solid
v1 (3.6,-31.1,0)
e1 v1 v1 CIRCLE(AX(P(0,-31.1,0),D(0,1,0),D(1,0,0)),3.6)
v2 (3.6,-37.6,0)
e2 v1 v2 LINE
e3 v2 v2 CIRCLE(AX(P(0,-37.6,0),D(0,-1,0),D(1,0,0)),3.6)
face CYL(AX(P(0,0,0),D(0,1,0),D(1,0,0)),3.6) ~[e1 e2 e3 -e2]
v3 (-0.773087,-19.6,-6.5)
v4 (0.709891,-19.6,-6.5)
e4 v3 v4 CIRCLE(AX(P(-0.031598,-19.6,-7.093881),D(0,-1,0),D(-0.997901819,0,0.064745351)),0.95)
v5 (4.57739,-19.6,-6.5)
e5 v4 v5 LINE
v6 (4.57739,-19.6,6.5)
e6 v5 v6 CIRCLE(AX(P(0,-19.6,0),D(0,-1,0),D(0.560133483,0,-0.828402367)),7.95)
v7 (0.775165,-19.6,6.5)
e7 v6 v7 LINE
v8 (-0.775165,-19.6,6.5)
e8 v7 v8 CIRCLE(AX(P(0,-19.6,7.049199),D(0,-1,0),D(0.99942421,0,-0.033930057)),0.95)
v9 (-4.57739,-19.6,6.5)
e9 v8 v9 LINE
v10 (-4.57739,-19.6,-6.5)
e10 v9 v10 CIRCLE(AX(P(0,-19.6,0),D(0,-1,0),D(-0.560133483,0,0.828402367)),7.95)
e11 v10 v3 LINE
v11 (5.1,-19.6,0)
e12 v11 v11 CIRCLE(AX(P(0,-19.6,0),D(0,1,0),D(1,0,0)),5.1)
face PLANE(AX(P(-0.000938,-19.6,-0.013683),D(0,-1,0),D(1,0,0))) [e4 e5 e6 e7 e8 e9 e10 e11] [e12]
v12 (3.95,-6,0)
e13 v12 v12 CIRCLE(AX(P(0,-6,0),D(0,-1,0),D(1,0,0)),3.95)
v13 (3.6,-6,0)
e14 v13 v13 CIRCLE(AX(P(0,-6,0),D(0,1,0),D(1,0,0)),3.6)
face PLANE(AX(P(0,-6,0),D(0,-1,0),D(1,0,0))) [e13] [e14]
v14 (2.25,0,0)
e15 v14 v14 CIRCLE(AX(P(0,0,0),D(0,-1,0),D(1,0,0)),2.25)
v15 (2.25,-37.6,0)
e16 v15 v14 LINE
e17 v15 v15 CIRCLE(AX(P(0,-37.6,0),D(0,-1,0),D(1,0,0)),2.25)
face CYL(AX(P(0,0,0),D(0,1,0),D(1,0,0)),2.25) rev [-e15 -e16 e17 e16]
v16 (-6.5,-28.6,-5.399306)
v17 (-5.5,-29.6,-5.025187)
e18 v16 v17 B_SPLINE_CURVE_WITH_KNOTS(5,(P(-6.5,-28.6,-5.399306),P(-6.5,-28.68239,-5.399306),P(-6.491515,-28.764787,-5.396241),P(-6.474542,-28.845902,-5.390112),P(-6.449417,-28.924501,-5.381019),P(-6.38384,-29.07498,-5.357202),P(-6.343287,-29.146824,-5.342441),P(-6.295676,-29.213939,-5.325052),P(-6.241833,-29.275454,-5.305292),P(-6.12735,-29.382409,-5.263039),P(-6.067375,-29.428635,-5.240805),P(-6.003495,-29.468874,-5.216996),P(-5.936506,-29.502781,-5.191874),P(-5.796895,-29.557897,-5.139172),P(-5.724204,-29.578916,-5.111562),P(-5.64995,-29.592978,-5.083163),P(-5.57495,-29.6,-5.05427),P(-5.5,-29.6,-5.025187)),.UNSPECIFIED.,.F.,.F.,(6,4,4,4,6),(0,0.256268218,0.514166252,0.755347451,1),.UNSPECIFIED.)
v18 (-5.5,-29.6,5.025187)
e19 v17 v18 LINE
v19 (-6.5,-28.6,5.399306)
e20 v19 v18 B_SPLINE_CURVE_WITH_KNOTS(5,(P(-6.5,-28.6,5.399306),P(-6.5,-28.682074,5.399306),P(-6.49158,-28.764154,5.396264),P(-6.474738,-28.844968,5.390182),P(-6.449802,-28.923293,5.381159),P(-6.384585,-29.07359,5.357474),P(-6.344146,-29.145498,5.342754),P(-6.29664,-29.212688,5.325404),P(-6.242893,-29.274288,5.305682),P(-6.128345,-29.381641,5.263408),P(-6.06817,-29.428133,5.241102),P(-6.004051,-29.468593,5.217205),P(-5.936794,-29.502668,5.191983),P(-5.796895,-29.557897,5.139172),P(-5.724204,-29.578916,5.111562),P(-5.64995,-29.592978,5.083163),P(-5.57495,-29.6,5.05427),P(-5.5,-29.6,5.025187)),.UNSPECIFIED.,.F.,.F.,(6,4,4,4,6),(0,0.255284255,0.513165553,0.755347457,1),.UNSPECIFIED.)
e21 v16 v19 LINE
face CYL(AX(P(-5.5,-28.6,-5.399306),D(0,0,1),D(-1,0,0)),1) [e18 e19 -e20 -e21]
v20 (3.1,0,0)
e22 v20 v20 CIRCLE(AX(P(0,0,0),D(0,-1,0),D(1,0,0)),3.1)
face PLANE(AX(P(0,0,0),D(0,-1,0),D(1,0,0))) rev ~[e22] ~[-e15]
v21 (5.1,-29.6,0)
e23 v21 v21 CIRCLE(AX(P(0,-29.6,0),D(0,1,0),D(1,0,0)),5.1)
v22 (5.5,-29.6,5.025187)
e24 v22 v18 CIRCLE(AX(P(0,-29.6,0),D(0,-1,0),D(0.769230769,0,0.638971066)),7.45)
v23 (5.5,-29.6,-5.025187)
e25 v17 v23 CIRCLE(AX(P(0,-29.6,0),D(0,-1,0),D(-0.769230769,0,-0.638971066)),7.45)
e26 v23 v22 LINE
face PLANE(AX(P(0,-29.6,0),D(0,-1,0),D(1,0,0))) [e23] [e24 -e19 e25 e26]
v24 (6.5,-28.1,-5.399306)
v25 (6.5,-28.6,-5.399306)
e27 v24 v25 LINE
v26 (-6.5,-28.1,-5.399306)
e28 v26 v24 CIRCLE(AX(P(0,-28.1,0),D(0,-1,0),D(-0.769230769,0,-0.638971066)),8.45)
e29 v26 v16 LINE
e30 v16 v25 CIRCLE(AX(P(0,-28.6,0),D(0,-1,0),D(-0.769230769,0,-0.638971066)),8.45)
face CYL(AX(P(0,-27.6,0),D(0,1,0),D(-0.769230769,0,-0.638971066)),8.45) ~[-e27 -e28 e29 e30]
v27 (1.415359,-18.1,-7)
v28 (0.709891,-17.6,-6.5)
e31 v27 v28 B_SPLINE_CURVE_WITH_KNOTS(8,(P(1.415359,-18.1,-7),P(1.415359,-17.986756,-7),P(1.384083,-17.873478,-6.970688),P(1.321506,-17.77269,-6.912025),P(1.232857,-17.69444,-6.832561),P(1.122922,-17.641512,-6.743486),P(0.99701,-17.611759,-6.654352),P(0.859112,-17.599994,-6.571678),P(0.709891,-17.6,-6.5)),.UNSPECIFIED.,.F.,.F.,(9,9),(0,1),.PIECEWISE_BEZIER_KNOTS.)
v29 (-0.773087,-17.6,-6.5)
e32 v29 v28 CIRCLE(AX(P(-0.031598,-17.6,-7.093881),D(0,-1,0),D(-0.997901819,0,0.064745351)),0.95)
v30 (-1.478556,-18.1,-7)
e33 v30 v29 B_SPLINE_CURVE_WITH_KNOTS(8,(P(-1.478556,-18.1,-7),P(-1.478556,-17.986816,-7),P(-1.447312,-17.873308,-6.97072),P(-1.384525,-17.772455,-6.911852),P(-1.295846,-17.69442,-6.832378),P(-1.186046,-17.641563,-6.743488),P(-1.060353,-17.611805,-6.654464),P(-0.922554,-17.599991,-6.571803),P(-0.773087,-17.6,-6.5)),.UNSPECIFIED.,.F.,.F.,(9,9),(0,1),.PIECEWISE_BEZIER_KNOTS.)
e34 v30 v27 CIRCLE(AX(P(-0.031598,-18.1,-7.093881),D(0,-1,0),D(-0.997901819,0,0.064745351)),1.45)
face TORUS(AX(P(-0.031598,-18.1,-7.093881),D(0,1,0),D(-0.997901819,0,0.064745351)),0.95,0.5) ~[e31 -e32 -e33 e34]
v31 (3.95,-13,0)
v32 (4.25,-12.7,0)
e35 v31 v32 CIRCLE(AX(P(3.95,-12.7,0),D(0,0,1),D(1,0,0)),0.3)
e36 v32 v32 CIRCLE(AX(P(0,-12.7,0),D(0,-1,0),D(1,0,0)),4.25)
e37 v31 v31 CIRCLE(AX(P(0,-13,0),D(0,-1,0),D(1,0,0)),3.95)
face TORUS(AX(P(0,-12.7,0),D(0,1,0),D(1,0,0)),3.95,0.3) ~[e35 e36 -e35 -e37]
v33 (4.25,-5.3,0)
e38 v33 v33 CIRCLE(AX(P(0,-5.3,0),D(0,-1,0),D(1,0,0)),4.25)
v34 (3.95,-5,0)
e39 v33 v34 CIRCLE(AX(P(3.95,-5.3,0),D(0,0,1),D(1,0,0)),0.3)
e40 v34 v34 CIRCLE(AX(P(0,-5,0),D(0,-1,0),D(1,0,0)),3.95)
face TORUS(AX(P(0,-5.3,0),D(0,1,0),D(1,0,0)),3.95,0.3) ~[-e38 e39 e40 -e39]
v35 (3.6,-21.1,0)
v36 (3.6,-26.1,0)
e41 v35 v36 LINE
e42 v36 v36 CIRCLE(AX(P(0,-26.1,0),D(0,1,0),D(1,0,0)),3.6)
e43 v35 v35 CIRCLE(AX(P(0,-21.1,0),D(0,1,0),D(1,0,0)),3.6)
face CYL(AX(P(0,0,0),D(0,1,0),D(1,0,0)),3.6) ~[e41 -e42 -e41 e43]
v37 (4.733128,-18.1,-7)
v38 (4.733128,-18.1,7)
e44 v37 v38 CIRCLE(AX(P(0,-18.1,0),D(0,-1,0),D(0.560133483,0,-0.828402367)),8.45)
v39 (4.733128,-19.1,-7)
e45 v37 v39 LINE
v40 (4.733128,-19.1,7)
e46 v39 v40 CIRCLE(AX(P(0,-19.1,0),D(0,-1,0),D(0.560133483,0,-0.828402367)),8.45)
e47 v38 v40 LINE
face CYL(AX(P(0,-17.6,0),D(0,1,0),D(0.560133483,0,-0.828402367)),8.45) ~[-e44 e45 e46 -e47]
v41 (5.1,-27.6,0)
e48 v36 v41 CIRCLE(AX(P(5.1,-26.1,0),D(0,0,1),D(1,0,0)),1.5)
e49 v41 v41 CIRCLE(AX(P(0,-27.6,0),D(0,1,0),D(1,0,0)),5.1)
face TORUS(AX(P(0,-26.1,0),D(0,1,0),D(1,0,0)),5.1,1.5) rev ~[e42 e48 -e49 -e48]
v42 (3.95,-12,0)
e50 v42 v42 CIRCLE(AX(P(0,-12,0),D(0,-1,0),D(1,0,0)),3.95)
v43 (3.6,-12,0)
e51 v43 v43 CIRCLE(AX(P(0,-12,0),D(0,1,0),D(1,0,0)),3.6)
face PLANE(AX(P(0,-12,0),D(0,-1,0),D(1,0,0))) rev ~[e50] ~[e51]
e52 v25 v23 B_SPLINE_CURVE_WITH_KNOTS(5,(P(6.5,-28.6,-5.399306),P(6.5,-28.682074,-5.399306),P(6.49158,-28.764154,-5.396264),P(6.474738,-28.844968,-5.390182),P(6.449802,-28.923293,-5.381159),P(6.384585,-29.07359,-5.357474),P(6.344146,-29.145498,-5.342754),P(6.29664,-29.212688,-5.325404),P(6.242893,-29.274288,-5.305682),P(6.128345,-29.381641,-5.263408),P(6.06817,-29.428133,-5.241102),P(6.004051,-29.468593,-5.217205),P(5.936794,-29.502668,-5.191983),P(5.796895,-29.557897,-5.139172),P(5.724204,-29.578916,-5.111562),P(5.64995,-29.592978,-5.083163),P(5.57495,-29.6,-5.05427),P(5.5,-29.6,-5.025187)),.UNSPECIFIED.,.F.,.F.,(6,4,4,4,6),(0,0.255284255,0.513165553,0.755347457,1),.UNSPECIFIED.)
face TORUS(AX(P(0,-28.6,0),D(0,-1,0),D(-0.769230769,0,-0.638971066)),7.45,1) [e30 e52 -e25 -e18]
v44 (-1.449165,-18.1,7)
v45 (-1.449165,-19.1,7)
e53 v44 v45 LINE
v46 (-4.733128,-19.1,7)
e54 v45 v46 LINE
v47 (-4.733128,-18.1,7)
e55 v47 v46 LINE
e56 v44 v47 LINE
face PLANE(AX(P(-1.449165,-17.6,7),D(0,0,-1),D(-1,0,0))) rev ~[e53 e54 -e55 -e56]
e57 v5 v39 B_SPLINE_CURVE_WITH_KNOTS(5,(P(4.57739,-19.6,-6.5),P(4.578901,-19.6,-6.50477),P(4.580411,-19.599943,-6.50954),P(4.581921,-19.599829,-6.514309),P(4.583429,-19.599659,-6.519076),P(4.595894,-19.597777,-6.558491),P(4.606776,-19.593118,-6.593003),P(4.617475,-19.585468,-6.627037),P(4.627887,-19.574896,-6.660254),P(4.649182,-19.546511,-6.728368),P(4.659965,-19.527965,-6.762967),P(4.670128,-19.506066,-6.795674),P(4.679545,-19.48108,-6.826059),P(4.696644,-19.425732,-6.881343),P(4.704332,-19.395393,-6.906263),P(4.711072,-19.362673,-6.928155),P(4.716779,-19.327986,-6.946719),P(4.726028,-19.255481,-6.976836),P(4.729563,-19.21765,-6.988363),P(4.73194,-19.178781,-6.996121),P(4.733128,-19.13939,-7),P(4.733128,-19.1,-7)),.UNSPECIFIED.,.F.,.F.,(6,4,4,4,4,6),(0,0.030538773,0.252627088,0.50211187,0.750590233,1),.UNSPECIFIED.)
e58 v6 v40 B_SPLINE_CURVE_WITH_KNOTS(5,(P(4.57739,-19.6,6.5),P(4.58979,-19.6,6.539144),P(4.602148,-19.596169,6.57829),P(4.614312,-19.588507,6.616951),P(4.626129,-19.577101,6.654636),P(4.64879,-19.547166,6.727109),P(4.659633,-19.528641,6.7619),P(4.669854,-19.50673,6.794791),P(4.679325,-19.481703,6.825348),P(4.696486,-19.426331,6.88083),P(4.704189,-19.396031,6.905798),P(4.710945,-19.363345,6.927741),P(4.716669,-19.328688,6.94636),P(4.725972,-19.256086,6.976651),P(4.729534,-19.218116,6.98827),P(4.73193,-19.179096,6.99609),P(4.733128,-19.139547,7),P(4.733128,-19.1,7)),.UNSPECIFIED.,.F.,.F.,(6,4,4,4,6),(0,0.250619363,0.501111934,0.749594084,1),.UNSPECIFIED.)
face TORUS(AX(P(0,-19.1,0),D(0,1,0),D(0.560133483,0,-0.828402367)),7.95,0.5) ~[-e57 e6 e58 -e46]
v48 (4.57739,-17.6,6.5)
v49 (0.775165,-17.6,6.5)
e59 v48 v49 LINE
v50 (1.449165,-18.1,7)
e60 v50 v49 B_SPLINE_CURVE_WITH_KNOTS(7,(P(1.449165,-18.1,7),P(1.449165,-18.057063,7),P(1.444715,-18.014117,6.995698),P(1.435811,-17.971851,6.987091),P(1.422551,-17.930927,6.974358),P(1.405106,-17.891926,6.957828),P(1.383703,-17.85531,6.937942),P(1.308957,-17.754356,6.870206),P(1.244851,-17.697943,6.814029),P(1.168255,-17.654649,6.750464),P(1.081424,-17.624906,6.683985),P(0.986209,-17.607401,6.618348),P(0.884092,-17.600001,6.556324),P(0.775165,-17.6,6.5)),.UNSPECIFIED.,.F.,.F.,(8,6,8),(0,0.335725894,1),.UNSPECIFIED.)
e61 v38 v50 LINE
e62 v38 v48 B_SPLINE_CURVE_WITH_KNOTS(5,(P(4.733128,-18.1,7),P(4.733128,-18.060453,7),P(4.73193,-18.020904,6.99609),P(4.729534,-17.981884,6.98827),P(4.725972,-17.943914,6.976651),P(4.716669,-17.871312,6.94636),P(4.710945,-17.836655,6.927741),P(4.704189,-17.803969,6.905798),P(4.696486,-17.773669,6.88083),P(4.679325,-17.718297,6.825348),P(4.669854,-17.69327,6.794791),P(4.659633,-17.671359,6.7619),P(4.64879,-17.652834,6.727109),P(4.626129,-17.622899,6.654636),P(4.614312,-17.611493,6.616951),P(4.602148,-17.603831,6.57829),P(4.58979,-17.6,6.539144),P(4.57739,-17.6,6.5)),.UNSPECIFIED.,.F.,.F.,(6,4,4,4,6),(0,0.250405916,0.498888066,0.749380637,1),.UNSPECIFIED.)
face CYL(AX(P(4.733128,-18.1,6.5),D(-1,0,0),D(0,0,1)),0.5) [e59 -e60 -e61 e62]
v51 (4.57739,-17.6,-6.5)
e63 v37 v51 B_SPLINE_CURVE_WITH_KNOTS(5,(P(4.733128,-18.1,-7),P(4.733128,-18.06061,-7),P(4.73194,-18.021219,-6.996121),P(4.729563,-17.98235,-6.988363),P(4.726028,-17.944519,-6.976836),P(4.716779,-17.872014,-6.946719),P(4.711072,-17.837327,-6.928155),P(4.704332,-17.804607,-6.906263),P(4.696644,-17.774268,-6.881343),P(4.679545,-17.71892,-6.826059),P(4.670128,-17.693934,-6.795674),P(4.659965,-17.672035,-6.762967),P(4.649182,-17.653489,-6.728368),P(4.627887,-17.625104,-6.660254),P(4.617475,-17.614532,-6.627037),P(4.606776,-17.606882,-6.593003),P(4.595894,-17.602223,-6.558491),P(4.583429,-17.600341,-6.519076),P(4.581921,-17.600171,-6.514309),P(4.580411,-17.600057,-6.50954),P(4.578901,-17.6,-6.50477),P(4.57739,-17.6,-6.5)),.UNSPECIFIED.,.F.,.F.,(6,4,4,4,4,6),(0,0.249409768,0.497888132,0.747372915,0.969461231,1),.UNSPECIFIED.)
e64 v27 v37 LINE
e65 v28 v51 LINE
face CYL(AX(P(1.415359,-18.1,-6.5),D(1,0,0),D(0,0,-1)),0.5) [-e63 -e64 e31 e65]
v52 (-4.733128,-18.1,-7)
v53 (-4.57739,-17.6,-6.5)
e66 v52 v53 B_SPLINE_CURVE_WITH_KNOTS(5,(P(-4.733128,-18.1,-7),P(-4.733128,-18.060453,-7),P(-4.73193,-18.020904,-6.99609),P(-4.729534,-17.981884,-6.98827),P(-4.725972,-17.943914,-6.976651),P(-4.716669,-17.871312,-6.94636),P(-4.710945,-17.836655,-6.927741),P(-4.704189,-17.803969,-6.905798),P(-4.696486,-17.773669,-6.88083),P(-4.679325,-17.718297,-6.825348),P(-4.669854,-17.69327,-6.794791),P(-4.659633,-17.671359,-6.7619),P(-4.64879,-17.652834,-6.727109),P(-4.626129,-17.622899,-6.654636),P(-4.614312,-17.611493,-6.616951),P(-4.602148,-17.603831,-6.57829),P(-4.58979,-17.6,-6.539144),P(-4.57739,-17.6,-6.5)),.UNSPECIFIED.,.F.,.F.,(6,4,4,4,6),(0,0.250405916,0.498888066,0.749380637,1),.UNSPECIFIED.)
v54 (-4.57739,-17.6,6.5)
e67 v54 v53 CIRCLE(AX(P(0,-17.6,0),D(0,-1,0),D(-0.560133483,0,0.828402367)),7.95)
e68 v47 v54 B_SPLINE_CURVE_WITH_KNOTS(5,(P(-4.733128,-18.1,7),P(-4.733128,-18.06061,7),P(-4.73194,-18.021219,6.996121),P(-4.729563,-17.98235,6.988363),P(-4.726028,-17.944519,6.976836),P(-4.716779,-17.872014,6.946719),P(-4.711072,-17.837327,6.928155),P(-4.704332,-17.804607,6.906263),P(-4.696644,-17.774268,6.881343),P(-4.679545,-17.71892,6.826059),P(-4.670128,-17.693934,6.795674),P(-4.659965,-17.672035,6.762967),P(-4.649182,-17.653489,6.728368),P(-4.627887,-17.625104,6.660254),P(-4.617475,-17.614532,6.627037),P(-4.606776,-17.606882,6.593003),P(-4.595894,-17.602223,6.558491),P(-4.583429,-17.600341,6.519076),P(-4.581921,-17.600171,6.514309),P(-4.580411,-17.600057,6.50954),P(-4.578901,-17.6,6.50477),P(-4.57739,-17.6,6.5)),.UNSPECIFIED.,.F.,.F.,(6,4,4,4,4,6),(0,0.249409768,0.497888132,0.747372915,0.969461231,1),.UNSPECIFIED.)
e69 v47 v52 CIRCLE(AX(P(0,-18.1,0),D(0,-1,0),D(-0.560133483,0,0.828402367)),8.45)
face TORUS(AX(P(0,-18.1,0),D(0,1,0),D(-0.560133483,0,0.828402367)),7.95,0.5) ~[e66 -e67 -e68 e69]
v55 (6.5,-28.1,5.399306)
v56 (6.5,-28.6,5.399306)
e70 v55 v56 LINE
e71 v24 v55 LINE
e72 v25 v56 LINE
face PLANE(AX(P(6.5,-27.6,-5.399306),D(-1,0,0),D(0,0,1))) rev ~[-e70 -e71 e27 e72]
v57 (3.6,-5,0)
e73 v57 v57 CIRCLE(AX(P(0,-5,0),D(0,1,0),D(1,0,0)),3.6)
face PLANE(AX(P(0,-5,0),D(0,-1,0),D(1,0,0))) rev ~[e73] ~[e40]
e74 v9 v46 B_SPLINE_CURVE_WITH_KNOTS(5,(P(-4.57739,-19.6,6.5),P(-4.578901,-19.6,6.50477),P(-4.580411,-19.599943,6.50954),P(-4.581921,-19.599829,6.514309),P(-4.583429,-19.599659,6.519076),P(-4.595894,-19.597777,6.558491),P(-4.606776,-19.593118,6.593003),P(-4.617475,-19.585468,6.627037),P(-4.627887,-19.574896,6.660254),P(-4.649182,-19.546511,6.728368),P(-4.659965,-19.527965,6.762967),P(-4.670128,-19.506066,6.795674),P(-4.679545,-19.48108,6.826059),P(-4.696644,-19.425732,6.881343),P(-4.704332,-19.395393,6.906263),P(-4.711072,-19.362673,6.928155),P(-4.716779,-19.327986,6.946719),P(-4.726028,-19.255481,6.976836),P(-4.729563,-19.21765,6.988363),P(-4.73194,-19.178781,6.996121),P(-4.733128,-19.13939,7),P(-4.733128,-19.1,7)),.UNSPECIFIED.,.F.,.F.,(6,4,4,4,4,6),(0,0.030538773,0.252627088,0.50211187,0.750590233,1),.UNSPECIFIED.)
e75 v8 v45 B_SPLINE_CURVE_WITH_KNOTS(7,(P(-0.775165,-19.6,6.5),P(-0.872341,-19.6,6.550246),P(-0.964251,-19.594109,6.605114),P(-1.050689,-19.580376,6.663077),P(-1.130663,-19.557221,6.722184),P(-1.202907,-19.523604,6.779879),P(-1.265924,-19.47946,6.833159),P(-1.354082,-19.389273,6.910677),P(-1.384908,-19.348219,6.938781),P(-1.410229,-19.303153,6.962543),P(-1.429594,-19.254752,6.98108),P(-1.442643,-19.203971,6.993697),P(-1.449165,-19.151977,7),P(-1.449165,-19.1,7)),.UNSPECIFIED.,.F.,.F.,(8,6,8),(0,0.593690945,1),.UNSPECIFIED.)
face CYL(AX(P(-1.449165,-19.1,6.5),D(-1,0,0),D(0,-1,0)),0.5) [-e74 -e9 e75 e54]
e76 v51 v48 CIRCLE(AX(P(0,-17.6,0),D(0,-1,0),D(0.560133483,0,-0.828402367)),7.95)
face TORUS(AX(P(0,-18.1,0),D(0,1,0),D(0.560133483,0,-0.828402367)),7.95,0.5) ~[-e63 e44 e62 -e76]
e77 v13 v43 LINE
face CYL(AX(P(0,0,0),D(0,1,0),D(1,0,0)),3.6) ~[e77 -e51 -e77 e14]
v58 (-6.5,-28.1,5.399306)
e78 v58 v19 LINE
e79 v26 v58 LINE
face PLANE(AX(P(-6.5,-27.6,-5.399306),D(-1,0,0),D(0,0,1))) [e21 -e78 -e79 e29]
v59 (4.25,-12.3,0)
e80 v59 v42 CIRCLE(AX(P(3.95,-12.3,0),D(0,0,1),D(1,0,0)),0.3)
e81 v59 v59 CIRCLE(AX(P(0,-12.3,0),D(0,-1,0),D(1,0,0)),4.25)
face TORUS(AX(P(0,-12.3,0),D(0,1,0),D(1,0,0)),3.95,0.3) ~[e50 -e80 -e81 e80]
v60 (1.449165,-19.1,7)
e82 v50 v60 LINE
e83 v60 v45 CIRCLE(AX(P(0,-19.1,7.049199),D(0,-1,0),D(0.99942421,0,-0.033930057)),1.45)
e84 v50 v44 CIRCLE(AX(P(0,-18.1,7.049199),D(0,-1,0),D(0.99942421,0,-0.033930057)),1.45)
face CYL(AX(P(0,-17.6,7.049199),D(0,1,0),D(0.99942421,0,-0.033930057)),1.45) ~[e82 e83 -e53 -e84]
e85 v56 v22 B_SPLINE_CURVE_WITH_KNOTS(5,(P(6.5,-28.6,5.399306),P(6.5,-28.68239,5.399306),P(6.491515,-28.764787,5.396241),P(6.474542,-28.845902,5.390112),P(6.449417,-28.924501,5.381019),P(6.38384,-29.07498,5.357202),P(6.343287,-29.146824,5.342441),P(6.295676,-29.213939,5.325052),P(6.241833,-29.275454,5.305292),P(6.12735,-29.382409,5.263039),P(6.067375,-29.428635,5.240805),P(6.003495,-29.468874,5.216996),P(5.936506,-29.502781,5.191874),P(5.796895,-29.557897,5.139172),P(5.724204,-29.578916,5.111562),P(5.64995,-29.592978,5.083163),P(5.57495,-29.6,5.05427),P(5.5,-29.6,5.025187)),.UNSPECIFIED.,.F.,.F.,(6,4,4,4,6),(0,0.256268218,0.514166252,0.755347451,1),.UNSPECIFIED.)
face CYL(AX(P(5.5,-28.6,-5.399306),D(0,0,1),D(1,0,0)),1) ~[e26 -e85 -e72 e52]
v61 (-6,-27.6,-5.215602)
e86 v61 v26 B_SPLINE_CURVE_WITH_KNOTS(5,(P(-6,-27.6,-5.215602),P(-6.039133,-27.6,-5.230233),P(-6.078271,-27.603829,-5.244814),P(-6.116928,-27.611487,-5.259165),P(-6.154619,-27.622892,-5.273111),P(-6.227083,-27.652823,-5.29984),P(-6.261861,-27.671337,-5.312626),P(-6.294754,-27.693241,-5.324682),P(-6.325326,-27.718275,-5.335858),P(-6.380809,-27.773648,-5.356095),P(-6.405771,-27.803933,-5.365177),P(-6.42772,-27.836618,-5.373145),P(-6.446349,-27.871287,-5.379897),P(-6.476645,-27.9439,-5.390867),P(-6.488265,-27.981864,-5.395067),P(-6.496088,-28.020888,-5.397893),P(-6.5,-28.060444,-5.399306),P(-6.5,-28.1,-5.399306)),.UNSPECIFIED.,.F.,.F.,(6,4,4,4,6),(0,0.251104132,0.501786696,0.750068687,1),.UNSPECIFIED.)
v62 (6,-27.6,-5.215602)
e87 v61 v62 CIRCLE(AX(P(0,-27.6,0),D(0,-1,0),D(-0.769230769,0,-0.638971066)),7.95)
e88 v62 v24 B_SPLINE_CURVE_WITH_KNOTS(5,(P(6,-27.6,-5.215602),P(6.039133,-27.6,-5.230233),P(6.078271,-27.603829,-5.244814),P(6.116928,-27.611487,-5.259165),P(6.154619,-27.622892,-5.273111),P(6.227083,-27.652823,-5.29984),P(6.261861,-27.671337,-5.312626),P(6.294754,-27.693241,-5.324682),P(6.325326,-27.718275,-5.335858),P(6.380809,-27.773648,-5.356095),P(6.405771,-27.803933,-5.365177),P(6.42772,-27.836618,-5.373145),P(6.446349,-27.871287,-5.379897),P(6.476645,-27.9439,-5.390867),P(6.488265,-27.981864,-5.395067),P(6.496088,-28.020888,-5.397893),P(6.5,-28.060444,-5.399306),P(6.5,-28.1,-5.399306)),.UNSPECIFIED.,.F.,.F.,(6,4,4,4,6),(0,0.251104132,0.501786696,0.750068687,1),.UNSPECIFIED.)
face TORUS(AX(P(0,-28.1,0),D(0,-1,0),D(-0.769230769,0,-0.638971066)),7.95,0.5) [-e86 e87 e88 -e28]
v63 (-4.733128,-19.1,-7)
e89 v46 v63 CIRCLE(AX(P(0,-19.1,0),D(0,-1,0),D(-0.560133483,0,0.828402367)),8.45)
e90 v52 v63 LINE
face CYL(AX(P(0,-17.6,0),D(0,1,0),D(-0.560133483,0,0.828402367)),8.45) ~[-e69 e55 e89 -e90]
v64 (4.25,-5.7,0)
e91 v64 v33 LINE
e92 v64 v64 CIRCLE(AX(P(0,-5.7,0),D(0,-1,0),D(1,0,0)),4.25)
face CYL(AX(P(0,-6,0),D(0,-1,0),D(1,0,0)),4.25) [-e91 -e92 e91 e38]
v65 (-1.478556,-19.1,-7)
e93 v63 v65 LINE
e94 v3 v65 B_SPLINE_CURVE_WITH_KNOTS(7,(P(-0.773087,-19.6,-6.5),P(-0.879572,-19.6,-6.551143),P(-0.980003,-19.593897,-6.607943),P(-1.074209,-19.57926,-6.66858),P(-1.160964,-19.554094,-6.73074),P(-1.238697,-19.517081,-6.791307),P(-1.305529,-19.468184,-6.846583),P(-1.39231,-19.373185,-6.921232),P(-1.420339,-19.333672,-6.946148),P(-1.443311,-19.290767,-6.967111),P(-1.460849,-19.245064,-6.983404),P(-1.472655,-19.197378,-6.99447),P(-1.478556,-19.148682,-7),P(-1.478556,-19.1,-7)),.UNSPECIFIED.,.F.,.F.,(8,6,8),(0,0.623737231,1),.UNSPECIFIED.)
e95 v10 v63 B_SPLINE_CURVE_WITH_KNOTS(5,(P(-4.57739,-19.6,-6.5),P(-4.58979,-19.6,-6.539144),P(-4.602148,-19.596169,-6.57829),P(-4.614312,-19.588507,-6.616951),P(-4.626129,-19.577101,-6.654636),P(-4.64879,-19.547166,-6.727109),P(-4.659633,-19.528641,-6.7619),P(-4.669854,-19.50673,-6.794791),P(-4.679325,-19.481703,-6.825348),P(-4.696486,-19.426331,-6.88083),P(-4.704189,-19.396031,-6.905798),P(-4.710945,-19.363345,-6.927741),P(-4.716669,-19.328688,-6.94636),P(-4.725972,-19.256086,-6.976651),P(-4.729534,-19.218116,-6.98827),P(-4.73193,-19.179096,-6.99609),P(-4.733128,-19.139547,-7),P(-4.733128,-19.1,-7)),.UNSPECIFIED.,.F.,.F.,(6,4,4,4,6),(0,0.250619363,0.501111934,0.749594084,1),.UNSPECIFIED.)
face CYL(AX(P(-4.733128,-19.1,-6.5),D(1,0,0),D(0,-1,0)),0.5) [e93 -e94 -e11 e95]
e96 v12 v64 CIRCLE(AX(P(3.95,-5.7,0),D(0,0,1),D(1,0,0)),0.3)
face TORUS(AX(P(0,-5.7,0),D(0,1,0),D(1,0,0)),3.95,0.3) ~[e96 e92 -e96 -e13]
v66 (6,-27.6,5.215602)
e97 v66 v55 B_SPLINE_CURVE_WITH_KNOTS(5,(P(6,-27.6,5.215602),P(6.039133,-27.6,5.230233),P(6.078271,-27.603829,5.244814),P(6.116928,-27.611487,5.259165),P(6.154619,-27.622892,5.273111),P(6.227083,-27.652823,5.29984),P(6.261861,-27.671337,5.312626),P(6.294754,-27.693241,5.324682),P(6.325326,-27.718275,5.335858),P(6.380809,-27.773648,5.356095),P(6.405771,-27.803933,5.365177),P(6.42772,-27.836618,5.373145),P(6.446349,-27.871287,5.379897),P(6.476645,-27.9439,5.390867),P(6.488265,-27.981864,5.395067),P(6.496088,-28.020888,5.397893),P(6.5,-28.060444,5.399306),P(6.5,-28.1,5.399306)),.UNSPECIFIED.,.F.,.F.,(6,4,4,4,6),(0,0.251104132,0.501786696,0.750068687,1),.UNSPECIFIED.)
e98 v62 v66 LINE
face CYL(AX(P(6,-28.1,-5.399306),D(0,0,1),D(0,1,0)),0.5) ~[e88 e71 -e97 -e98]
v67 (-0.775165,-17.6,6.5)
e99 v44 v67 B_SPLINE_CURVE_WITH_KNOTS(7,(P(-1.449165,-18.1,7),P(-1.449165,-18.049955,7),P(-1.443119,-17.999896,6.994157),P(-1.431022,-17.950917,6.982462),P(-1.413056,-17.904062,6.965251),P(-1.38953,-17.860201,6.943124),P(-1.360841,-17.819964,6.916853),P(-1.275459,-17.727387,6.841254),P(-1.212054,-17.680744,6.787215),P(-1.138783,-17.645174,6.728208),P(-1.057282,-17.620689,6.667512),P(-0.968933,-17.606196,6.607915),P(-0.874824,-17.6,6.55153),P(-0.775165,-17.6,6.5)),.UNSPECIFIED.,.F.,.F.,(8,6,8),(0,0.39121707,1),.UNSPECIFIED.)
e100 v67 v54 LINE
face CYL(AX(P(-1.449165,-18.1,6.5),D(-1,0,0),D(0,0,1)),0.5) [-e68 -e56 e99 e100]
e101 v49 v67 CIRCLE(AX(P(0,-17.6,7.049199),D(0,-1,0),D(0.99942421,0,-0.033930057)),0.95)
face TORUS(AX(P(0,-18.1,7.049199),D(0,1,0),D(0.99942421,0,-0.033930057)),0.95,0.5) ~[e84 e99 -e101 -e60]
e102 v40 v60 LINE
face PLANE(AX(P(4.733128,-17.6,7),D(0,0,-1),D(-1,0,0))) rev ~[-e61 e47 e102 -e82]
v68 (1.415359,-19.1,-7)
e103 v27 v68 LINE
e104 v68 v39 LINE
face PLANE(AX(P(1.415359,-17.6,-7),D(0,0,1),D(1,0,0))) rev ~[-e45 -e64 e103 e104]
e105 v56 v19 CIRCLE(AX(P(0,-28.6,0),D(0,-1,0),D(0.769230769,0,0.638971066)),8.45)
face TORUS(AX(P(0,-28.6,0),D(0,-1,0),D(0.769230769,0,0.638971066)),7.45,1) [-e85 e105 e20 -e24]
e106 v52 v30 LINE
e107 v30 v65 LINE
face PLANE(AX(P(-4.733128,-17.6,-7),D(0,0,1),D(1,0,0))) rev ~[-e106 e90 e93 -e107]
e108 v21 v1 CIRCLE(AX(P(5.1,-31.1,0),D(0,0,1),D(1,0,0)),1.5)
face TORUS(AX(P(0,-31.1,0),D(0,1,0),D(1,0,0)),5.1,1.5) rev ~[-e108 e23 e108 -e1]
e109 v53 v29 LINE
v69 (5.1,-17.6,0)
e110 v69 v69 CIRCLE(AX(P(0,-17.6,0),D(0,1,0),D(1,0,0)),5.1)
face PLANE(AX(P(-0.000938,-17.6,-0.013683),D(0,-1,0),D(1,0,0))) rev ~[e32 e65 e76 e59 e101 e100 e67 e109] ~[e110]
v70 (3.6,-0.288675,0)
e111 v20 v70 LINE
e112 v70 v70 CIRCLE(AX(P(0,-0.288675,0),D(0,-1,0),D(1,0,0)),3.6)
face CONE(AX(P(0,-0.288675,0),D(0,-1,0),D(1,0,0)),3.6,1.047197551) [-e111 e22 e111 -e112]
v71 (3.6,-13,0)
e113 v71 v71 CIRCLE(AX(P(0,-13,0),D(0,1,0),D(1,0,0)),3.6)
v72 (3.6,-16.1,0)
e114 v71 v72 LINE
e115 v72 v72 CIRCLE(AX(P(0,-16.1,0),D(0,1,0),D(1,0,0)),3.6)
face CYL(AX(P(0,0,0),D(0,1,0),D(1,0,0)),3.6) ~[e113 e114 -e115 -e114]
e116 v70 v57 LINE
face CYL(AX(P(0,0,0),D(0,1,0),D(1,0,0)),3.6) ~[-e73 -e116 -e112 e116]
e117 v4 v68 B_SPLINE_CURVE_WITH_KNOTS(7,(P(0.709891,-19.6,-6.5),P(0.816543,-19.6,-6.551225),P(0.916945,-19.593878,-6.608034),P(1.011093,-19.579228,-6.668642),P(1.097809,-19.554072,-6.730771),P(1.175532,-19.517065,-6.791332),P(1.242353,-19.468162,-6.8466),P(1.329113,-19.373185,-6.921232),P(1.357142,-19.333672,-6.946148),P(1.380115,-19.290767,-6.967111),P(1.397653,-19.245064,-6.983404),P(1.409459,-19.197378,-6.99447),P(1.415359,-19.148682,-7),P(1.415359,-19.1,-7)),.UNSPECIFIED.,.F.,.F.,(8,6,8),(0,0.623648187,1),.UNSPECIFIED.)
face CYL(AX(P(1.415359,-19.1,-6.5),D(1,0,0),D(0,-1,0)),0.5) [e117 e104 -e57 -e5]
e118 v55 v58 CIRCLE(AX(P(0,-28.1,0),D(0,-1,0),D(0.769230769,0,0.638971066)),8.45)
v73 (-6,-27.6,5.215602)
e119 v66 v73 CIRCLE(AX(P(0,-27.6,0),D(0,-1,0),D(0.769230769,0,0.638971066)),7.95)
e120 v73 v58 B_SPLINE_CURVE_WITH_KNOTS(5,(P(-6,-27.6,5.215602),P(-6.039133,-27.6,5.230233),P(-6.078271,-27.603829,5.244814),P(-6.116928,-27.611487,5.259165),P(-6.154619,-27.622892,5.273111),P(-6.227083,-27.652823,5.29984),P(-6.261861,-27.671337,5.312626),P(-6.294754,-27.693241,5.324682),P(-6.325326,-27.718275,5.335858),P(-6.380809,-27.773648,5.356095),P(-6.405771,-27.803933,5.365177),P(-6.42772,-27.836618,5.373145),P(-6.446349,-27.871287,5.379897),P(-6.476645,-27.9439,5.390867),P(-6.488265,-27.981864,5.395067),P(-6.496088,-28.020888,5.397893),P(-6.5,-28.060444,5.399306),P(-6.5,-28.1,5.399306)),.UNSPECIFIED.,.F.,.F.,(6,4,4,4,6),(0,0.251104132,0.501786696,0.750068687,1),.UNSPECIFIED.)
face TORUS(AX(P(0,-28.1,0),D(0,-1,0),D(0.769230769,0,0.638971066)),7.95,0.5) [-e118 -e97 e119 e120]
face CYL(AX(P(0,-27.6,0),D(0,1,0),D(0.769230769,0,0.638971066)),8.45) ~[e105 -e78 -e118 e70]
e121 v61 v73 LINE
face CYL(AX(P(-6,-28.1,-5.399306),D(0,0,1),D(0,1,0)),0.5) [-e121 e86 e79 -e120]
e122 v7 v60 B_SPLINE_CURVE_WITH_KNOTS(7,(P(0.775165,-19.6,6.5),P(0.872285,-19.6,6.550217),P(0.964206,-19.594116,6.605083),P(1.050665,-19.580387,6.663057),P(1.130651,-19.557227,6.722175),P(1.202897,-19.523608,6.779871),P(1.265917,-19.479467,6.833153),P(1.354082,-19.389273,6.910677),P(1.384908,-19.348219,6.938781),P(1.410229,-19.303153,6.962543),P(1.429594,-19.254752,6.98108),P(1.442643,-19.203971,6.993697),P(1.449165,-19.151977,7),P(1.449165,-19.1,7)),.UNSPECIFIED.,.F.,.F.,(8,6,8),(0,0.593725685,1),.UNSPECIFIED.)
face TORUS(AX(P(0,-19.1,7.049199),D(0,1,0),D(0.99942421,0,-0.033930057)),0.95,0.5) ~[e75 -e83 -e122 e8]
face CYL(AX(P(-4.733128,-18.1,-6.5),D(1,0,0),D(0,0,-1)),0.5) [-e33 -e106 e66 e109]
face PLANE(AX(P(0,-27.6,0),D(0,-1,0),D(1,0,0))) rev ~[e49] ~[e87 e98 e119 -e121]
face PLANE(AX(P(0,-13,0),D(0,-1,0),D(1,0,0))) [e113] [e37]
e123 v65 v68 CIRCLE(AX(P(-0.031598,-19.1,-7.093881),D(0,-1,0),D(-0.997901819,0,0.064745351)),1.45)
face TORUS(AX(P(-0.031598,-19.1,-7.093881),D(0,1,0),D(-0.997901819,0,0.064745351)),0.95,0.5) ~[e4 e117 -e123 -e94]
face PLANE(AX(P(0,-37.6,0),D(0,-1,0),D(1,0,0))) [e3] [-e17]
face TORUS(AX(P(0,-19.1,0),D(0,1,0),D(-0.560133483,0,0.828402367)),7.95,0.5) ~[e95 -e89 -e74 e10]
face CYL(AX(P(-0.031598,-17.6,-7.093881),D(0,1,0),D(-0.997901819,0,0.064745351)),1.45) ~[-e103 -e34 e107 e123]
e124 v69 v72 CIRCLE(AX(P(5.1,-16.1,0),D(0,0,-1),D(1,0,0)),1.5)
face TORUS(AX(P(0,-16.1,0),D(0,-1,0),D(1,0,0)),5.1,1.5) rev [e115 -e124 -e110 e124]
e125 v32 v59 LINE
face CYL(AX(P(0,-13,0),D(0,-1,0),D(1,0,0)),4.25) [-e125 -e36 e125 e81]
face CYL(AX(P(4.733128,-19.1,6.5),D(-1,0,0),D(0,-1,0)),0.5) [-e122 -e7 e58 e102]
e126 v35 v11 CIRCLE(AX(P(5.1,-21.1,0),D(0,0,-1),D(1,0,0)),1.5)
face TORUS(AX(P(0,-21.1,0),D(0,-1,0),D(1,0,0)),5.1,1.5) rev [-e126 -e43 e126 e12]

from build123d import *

# Parameters (mm, degrees)
F0_R      = 3.6
F0_R_2    = 2.25
F1_DEPTH  = 37.6
F6_R      = 4.25
F6_R_2    = 2.25
F7_DEPTH  = 1
F8_R      = 4.25
F8_R_2    = 2.25
F9_DEPTH  = 1
F10_R     = 2.25
F11_DEPTH = 2
F12_W     = 13
F12_H     = 10.7986110218
F12_R     = 2.25
F13_DEPTH = 2
F14_SIZE2 = 0.2886751346
F14_SIZE  = 0.5
F15_R     = 1.5
F16_R     = 1.5
F17_R     = 1.5
F18_R     = 0.3
F19_R     = 0.5
F20_R     = 1
F21_R     = 0.5
F22_R     = 0.3


with BuildPart() as f1:
    # F0 (on Front) → F1 (new body)
    with BuildSketch(Plane.XZ):
        Circle(F0_R)
        Circle(F0_R_2, mode=Mode.SUBTRACT)
    extrude(amount=F1_DEPTH)

    # F6 (on offset) → F7 (join)
    with BuildSketch(Plane.XZ.offset(6)):
        Circle(F6_R)
        Circle(F6_R_2, mode=Mode.SUBTRACT)
    extrude(amount=-F7_DEPTH)

    # F8 (on offset) → F9 (join)
    with BuildSketch(Plane.XZ.offset(13)):
        Circle(F8_R)
        Circle(F8_R_2, mode=Mode.SUBTRACT)
    extrude(amount=-F9_DEPTH)

    # F10 (on offset) → F11 (join)
    with BuildSketch(Plane.XZ.offset(17.6)):
        with BuildLine():
            Line((4.7331279298, 7), (1.4491651043, 7))
            ThreePointArc((1.4491651043, 7), (0, 8.4991985826), (-1.4491651043, 7))
            Line((-1.4491651043, 7), (-4.7331279298, 7))
            ThreePointArc((-4.7331279298, 7), (-8.45, 0), (-4.7331279298, -7))
            Line((-4.7331279298, -7), (-1.4785558319, -7))
            ThreePointArc((-1.4785558319, -7), (-0.031598195, -8.5438807592), (1.4153594419, -7))
            Line((1.4153594419, -7), (4.7331279298, -7))
            ThreePointArc((4.7331279298, -7), (8.45, 0), (4.7331279298, 7))
        make_face()
        Circle(F10_R, mode=Mode.SUBTRACT)
    extrude(amount=F11_DEPTH)

    # F12 (on offset) → F13 (join)
    with BuildSketch(Plane.XZ.offset(27.6)):
        Rectangle(F12_W, F12_H)
        Circle(F12_R, mode=Mode.SUBTRACT)
        with BuildLine():
            ThreePointArc((-6.5, -5.3993055109), (0, -8.45), (6.5, -5.3993055109))
            Line((6.5, -5.3993055109), (-6.5, -5.3993055109))
        make_face()
        with BuildLine():
            Line((-6.5, 5.3993055109), (6.5, 5.3993055109))
            ThreePointArc((6.5, 5.3993055109), (0, 8.45), (-6.5, 5.3993055109))
        make_face()
    extrude(amount=F13_DEPTH)

    # F14
    f14_edges = [f1.edges().sort_by_distance(p)[0] for p in [
        (-3.6, 0, 0),
    ]]
    f14_side = f1.faces().sort_by_distance((-3.498177, 0, 0))[0]
    chamfer(f14_edges, length=F14_SIZE, length2=F14_SIZE2, reference=f14_side)

    # F15
    f15_edges = [f1.edges().sort_by_distance(p)[0] for p in [
        (-3.6, -19.6, 0),
    ]]
    fillet(f15_edges, radius=F15_R)

    # F16
    f16_edges = [f1.edges().sort_by_distance(p)[0] for p in [
        (-3.6, -17.6, 0),
    ]]
    fillet(f16_edges, radius=F16_R)

    # F17
    f17_edges = [f1.edges().sort_by_distance(p)[0] for p in [
        (-3.6, -27.6, 0),
        (-3.6, -29.6, 0),
    ]]
    fillet(f17_edges, radius=F17_R)

    # F18
    f18_edges = [f1.edges().sort_by_distance(p)[0] for p in [
        (-4.25, -12, 0),
        (-4.25, -13, 0),
    ]]
    fillet(f18_edges, radius=F18_R)

    # F19
    f19_edges = [f1.edges().sort_by_distance(p)[0] for p in [
        (0, -27.6, 8.45),
        (-6.5, -27.6, 0),
        (0, -27.6, -8.45),
        (6.5, -27.6, 0),
    ]]
    fillet(f19_edges, radius=F19_R)

    # F20
    f20_edges = [f1.edges().sort_by_distance(p)[0] for p in [
        (-6.5, -29.6, 0),
        (0, -29.6, 8.45),
        (6.5, -29.6, 0),
        (0, -29.6, -8.45),
    ]]
    fillet(f20_edges, radius=F20_R)

    # F21
    f21_edges = [f1.edges().sort_by_distance(p)[0] for p in [
        (-8.45, -19.6, 0),
        (-3.091147, -19.6, 7),
        (0, -19.6, 8.499199),
        (3.091147, -19.6, 7),
        (8.45, -19.6, 0),
        (3.074244, -19.6, -7),
        (-0.031598, -19.6, -8.543881),
        (-3.105842, -19.6, -7),
        (-3.105842, -17.6, -7),
        (-0.031598, -17.6, -8.543881),
        (3.074244, -17.6, -7),
        (8.45, -17.6, 0),
        (3.091147, -17.6, 7),
        (0, -17.6, 8.499199),
        (-3.091147, -17.6, 7),
        (-8.45, -17.6, 0),
    ]]
    fillet(f21_edges, radius=F21_R)

    # F22
    f22_edges = [f1.edges().sort_by_distance(p)[0] for p in [
        (-4.25, -5, 0),
        (-4.25, -6, 0),
    ]]
    fillet(f22_edges, radius=F22_R)


solid = f1.part
